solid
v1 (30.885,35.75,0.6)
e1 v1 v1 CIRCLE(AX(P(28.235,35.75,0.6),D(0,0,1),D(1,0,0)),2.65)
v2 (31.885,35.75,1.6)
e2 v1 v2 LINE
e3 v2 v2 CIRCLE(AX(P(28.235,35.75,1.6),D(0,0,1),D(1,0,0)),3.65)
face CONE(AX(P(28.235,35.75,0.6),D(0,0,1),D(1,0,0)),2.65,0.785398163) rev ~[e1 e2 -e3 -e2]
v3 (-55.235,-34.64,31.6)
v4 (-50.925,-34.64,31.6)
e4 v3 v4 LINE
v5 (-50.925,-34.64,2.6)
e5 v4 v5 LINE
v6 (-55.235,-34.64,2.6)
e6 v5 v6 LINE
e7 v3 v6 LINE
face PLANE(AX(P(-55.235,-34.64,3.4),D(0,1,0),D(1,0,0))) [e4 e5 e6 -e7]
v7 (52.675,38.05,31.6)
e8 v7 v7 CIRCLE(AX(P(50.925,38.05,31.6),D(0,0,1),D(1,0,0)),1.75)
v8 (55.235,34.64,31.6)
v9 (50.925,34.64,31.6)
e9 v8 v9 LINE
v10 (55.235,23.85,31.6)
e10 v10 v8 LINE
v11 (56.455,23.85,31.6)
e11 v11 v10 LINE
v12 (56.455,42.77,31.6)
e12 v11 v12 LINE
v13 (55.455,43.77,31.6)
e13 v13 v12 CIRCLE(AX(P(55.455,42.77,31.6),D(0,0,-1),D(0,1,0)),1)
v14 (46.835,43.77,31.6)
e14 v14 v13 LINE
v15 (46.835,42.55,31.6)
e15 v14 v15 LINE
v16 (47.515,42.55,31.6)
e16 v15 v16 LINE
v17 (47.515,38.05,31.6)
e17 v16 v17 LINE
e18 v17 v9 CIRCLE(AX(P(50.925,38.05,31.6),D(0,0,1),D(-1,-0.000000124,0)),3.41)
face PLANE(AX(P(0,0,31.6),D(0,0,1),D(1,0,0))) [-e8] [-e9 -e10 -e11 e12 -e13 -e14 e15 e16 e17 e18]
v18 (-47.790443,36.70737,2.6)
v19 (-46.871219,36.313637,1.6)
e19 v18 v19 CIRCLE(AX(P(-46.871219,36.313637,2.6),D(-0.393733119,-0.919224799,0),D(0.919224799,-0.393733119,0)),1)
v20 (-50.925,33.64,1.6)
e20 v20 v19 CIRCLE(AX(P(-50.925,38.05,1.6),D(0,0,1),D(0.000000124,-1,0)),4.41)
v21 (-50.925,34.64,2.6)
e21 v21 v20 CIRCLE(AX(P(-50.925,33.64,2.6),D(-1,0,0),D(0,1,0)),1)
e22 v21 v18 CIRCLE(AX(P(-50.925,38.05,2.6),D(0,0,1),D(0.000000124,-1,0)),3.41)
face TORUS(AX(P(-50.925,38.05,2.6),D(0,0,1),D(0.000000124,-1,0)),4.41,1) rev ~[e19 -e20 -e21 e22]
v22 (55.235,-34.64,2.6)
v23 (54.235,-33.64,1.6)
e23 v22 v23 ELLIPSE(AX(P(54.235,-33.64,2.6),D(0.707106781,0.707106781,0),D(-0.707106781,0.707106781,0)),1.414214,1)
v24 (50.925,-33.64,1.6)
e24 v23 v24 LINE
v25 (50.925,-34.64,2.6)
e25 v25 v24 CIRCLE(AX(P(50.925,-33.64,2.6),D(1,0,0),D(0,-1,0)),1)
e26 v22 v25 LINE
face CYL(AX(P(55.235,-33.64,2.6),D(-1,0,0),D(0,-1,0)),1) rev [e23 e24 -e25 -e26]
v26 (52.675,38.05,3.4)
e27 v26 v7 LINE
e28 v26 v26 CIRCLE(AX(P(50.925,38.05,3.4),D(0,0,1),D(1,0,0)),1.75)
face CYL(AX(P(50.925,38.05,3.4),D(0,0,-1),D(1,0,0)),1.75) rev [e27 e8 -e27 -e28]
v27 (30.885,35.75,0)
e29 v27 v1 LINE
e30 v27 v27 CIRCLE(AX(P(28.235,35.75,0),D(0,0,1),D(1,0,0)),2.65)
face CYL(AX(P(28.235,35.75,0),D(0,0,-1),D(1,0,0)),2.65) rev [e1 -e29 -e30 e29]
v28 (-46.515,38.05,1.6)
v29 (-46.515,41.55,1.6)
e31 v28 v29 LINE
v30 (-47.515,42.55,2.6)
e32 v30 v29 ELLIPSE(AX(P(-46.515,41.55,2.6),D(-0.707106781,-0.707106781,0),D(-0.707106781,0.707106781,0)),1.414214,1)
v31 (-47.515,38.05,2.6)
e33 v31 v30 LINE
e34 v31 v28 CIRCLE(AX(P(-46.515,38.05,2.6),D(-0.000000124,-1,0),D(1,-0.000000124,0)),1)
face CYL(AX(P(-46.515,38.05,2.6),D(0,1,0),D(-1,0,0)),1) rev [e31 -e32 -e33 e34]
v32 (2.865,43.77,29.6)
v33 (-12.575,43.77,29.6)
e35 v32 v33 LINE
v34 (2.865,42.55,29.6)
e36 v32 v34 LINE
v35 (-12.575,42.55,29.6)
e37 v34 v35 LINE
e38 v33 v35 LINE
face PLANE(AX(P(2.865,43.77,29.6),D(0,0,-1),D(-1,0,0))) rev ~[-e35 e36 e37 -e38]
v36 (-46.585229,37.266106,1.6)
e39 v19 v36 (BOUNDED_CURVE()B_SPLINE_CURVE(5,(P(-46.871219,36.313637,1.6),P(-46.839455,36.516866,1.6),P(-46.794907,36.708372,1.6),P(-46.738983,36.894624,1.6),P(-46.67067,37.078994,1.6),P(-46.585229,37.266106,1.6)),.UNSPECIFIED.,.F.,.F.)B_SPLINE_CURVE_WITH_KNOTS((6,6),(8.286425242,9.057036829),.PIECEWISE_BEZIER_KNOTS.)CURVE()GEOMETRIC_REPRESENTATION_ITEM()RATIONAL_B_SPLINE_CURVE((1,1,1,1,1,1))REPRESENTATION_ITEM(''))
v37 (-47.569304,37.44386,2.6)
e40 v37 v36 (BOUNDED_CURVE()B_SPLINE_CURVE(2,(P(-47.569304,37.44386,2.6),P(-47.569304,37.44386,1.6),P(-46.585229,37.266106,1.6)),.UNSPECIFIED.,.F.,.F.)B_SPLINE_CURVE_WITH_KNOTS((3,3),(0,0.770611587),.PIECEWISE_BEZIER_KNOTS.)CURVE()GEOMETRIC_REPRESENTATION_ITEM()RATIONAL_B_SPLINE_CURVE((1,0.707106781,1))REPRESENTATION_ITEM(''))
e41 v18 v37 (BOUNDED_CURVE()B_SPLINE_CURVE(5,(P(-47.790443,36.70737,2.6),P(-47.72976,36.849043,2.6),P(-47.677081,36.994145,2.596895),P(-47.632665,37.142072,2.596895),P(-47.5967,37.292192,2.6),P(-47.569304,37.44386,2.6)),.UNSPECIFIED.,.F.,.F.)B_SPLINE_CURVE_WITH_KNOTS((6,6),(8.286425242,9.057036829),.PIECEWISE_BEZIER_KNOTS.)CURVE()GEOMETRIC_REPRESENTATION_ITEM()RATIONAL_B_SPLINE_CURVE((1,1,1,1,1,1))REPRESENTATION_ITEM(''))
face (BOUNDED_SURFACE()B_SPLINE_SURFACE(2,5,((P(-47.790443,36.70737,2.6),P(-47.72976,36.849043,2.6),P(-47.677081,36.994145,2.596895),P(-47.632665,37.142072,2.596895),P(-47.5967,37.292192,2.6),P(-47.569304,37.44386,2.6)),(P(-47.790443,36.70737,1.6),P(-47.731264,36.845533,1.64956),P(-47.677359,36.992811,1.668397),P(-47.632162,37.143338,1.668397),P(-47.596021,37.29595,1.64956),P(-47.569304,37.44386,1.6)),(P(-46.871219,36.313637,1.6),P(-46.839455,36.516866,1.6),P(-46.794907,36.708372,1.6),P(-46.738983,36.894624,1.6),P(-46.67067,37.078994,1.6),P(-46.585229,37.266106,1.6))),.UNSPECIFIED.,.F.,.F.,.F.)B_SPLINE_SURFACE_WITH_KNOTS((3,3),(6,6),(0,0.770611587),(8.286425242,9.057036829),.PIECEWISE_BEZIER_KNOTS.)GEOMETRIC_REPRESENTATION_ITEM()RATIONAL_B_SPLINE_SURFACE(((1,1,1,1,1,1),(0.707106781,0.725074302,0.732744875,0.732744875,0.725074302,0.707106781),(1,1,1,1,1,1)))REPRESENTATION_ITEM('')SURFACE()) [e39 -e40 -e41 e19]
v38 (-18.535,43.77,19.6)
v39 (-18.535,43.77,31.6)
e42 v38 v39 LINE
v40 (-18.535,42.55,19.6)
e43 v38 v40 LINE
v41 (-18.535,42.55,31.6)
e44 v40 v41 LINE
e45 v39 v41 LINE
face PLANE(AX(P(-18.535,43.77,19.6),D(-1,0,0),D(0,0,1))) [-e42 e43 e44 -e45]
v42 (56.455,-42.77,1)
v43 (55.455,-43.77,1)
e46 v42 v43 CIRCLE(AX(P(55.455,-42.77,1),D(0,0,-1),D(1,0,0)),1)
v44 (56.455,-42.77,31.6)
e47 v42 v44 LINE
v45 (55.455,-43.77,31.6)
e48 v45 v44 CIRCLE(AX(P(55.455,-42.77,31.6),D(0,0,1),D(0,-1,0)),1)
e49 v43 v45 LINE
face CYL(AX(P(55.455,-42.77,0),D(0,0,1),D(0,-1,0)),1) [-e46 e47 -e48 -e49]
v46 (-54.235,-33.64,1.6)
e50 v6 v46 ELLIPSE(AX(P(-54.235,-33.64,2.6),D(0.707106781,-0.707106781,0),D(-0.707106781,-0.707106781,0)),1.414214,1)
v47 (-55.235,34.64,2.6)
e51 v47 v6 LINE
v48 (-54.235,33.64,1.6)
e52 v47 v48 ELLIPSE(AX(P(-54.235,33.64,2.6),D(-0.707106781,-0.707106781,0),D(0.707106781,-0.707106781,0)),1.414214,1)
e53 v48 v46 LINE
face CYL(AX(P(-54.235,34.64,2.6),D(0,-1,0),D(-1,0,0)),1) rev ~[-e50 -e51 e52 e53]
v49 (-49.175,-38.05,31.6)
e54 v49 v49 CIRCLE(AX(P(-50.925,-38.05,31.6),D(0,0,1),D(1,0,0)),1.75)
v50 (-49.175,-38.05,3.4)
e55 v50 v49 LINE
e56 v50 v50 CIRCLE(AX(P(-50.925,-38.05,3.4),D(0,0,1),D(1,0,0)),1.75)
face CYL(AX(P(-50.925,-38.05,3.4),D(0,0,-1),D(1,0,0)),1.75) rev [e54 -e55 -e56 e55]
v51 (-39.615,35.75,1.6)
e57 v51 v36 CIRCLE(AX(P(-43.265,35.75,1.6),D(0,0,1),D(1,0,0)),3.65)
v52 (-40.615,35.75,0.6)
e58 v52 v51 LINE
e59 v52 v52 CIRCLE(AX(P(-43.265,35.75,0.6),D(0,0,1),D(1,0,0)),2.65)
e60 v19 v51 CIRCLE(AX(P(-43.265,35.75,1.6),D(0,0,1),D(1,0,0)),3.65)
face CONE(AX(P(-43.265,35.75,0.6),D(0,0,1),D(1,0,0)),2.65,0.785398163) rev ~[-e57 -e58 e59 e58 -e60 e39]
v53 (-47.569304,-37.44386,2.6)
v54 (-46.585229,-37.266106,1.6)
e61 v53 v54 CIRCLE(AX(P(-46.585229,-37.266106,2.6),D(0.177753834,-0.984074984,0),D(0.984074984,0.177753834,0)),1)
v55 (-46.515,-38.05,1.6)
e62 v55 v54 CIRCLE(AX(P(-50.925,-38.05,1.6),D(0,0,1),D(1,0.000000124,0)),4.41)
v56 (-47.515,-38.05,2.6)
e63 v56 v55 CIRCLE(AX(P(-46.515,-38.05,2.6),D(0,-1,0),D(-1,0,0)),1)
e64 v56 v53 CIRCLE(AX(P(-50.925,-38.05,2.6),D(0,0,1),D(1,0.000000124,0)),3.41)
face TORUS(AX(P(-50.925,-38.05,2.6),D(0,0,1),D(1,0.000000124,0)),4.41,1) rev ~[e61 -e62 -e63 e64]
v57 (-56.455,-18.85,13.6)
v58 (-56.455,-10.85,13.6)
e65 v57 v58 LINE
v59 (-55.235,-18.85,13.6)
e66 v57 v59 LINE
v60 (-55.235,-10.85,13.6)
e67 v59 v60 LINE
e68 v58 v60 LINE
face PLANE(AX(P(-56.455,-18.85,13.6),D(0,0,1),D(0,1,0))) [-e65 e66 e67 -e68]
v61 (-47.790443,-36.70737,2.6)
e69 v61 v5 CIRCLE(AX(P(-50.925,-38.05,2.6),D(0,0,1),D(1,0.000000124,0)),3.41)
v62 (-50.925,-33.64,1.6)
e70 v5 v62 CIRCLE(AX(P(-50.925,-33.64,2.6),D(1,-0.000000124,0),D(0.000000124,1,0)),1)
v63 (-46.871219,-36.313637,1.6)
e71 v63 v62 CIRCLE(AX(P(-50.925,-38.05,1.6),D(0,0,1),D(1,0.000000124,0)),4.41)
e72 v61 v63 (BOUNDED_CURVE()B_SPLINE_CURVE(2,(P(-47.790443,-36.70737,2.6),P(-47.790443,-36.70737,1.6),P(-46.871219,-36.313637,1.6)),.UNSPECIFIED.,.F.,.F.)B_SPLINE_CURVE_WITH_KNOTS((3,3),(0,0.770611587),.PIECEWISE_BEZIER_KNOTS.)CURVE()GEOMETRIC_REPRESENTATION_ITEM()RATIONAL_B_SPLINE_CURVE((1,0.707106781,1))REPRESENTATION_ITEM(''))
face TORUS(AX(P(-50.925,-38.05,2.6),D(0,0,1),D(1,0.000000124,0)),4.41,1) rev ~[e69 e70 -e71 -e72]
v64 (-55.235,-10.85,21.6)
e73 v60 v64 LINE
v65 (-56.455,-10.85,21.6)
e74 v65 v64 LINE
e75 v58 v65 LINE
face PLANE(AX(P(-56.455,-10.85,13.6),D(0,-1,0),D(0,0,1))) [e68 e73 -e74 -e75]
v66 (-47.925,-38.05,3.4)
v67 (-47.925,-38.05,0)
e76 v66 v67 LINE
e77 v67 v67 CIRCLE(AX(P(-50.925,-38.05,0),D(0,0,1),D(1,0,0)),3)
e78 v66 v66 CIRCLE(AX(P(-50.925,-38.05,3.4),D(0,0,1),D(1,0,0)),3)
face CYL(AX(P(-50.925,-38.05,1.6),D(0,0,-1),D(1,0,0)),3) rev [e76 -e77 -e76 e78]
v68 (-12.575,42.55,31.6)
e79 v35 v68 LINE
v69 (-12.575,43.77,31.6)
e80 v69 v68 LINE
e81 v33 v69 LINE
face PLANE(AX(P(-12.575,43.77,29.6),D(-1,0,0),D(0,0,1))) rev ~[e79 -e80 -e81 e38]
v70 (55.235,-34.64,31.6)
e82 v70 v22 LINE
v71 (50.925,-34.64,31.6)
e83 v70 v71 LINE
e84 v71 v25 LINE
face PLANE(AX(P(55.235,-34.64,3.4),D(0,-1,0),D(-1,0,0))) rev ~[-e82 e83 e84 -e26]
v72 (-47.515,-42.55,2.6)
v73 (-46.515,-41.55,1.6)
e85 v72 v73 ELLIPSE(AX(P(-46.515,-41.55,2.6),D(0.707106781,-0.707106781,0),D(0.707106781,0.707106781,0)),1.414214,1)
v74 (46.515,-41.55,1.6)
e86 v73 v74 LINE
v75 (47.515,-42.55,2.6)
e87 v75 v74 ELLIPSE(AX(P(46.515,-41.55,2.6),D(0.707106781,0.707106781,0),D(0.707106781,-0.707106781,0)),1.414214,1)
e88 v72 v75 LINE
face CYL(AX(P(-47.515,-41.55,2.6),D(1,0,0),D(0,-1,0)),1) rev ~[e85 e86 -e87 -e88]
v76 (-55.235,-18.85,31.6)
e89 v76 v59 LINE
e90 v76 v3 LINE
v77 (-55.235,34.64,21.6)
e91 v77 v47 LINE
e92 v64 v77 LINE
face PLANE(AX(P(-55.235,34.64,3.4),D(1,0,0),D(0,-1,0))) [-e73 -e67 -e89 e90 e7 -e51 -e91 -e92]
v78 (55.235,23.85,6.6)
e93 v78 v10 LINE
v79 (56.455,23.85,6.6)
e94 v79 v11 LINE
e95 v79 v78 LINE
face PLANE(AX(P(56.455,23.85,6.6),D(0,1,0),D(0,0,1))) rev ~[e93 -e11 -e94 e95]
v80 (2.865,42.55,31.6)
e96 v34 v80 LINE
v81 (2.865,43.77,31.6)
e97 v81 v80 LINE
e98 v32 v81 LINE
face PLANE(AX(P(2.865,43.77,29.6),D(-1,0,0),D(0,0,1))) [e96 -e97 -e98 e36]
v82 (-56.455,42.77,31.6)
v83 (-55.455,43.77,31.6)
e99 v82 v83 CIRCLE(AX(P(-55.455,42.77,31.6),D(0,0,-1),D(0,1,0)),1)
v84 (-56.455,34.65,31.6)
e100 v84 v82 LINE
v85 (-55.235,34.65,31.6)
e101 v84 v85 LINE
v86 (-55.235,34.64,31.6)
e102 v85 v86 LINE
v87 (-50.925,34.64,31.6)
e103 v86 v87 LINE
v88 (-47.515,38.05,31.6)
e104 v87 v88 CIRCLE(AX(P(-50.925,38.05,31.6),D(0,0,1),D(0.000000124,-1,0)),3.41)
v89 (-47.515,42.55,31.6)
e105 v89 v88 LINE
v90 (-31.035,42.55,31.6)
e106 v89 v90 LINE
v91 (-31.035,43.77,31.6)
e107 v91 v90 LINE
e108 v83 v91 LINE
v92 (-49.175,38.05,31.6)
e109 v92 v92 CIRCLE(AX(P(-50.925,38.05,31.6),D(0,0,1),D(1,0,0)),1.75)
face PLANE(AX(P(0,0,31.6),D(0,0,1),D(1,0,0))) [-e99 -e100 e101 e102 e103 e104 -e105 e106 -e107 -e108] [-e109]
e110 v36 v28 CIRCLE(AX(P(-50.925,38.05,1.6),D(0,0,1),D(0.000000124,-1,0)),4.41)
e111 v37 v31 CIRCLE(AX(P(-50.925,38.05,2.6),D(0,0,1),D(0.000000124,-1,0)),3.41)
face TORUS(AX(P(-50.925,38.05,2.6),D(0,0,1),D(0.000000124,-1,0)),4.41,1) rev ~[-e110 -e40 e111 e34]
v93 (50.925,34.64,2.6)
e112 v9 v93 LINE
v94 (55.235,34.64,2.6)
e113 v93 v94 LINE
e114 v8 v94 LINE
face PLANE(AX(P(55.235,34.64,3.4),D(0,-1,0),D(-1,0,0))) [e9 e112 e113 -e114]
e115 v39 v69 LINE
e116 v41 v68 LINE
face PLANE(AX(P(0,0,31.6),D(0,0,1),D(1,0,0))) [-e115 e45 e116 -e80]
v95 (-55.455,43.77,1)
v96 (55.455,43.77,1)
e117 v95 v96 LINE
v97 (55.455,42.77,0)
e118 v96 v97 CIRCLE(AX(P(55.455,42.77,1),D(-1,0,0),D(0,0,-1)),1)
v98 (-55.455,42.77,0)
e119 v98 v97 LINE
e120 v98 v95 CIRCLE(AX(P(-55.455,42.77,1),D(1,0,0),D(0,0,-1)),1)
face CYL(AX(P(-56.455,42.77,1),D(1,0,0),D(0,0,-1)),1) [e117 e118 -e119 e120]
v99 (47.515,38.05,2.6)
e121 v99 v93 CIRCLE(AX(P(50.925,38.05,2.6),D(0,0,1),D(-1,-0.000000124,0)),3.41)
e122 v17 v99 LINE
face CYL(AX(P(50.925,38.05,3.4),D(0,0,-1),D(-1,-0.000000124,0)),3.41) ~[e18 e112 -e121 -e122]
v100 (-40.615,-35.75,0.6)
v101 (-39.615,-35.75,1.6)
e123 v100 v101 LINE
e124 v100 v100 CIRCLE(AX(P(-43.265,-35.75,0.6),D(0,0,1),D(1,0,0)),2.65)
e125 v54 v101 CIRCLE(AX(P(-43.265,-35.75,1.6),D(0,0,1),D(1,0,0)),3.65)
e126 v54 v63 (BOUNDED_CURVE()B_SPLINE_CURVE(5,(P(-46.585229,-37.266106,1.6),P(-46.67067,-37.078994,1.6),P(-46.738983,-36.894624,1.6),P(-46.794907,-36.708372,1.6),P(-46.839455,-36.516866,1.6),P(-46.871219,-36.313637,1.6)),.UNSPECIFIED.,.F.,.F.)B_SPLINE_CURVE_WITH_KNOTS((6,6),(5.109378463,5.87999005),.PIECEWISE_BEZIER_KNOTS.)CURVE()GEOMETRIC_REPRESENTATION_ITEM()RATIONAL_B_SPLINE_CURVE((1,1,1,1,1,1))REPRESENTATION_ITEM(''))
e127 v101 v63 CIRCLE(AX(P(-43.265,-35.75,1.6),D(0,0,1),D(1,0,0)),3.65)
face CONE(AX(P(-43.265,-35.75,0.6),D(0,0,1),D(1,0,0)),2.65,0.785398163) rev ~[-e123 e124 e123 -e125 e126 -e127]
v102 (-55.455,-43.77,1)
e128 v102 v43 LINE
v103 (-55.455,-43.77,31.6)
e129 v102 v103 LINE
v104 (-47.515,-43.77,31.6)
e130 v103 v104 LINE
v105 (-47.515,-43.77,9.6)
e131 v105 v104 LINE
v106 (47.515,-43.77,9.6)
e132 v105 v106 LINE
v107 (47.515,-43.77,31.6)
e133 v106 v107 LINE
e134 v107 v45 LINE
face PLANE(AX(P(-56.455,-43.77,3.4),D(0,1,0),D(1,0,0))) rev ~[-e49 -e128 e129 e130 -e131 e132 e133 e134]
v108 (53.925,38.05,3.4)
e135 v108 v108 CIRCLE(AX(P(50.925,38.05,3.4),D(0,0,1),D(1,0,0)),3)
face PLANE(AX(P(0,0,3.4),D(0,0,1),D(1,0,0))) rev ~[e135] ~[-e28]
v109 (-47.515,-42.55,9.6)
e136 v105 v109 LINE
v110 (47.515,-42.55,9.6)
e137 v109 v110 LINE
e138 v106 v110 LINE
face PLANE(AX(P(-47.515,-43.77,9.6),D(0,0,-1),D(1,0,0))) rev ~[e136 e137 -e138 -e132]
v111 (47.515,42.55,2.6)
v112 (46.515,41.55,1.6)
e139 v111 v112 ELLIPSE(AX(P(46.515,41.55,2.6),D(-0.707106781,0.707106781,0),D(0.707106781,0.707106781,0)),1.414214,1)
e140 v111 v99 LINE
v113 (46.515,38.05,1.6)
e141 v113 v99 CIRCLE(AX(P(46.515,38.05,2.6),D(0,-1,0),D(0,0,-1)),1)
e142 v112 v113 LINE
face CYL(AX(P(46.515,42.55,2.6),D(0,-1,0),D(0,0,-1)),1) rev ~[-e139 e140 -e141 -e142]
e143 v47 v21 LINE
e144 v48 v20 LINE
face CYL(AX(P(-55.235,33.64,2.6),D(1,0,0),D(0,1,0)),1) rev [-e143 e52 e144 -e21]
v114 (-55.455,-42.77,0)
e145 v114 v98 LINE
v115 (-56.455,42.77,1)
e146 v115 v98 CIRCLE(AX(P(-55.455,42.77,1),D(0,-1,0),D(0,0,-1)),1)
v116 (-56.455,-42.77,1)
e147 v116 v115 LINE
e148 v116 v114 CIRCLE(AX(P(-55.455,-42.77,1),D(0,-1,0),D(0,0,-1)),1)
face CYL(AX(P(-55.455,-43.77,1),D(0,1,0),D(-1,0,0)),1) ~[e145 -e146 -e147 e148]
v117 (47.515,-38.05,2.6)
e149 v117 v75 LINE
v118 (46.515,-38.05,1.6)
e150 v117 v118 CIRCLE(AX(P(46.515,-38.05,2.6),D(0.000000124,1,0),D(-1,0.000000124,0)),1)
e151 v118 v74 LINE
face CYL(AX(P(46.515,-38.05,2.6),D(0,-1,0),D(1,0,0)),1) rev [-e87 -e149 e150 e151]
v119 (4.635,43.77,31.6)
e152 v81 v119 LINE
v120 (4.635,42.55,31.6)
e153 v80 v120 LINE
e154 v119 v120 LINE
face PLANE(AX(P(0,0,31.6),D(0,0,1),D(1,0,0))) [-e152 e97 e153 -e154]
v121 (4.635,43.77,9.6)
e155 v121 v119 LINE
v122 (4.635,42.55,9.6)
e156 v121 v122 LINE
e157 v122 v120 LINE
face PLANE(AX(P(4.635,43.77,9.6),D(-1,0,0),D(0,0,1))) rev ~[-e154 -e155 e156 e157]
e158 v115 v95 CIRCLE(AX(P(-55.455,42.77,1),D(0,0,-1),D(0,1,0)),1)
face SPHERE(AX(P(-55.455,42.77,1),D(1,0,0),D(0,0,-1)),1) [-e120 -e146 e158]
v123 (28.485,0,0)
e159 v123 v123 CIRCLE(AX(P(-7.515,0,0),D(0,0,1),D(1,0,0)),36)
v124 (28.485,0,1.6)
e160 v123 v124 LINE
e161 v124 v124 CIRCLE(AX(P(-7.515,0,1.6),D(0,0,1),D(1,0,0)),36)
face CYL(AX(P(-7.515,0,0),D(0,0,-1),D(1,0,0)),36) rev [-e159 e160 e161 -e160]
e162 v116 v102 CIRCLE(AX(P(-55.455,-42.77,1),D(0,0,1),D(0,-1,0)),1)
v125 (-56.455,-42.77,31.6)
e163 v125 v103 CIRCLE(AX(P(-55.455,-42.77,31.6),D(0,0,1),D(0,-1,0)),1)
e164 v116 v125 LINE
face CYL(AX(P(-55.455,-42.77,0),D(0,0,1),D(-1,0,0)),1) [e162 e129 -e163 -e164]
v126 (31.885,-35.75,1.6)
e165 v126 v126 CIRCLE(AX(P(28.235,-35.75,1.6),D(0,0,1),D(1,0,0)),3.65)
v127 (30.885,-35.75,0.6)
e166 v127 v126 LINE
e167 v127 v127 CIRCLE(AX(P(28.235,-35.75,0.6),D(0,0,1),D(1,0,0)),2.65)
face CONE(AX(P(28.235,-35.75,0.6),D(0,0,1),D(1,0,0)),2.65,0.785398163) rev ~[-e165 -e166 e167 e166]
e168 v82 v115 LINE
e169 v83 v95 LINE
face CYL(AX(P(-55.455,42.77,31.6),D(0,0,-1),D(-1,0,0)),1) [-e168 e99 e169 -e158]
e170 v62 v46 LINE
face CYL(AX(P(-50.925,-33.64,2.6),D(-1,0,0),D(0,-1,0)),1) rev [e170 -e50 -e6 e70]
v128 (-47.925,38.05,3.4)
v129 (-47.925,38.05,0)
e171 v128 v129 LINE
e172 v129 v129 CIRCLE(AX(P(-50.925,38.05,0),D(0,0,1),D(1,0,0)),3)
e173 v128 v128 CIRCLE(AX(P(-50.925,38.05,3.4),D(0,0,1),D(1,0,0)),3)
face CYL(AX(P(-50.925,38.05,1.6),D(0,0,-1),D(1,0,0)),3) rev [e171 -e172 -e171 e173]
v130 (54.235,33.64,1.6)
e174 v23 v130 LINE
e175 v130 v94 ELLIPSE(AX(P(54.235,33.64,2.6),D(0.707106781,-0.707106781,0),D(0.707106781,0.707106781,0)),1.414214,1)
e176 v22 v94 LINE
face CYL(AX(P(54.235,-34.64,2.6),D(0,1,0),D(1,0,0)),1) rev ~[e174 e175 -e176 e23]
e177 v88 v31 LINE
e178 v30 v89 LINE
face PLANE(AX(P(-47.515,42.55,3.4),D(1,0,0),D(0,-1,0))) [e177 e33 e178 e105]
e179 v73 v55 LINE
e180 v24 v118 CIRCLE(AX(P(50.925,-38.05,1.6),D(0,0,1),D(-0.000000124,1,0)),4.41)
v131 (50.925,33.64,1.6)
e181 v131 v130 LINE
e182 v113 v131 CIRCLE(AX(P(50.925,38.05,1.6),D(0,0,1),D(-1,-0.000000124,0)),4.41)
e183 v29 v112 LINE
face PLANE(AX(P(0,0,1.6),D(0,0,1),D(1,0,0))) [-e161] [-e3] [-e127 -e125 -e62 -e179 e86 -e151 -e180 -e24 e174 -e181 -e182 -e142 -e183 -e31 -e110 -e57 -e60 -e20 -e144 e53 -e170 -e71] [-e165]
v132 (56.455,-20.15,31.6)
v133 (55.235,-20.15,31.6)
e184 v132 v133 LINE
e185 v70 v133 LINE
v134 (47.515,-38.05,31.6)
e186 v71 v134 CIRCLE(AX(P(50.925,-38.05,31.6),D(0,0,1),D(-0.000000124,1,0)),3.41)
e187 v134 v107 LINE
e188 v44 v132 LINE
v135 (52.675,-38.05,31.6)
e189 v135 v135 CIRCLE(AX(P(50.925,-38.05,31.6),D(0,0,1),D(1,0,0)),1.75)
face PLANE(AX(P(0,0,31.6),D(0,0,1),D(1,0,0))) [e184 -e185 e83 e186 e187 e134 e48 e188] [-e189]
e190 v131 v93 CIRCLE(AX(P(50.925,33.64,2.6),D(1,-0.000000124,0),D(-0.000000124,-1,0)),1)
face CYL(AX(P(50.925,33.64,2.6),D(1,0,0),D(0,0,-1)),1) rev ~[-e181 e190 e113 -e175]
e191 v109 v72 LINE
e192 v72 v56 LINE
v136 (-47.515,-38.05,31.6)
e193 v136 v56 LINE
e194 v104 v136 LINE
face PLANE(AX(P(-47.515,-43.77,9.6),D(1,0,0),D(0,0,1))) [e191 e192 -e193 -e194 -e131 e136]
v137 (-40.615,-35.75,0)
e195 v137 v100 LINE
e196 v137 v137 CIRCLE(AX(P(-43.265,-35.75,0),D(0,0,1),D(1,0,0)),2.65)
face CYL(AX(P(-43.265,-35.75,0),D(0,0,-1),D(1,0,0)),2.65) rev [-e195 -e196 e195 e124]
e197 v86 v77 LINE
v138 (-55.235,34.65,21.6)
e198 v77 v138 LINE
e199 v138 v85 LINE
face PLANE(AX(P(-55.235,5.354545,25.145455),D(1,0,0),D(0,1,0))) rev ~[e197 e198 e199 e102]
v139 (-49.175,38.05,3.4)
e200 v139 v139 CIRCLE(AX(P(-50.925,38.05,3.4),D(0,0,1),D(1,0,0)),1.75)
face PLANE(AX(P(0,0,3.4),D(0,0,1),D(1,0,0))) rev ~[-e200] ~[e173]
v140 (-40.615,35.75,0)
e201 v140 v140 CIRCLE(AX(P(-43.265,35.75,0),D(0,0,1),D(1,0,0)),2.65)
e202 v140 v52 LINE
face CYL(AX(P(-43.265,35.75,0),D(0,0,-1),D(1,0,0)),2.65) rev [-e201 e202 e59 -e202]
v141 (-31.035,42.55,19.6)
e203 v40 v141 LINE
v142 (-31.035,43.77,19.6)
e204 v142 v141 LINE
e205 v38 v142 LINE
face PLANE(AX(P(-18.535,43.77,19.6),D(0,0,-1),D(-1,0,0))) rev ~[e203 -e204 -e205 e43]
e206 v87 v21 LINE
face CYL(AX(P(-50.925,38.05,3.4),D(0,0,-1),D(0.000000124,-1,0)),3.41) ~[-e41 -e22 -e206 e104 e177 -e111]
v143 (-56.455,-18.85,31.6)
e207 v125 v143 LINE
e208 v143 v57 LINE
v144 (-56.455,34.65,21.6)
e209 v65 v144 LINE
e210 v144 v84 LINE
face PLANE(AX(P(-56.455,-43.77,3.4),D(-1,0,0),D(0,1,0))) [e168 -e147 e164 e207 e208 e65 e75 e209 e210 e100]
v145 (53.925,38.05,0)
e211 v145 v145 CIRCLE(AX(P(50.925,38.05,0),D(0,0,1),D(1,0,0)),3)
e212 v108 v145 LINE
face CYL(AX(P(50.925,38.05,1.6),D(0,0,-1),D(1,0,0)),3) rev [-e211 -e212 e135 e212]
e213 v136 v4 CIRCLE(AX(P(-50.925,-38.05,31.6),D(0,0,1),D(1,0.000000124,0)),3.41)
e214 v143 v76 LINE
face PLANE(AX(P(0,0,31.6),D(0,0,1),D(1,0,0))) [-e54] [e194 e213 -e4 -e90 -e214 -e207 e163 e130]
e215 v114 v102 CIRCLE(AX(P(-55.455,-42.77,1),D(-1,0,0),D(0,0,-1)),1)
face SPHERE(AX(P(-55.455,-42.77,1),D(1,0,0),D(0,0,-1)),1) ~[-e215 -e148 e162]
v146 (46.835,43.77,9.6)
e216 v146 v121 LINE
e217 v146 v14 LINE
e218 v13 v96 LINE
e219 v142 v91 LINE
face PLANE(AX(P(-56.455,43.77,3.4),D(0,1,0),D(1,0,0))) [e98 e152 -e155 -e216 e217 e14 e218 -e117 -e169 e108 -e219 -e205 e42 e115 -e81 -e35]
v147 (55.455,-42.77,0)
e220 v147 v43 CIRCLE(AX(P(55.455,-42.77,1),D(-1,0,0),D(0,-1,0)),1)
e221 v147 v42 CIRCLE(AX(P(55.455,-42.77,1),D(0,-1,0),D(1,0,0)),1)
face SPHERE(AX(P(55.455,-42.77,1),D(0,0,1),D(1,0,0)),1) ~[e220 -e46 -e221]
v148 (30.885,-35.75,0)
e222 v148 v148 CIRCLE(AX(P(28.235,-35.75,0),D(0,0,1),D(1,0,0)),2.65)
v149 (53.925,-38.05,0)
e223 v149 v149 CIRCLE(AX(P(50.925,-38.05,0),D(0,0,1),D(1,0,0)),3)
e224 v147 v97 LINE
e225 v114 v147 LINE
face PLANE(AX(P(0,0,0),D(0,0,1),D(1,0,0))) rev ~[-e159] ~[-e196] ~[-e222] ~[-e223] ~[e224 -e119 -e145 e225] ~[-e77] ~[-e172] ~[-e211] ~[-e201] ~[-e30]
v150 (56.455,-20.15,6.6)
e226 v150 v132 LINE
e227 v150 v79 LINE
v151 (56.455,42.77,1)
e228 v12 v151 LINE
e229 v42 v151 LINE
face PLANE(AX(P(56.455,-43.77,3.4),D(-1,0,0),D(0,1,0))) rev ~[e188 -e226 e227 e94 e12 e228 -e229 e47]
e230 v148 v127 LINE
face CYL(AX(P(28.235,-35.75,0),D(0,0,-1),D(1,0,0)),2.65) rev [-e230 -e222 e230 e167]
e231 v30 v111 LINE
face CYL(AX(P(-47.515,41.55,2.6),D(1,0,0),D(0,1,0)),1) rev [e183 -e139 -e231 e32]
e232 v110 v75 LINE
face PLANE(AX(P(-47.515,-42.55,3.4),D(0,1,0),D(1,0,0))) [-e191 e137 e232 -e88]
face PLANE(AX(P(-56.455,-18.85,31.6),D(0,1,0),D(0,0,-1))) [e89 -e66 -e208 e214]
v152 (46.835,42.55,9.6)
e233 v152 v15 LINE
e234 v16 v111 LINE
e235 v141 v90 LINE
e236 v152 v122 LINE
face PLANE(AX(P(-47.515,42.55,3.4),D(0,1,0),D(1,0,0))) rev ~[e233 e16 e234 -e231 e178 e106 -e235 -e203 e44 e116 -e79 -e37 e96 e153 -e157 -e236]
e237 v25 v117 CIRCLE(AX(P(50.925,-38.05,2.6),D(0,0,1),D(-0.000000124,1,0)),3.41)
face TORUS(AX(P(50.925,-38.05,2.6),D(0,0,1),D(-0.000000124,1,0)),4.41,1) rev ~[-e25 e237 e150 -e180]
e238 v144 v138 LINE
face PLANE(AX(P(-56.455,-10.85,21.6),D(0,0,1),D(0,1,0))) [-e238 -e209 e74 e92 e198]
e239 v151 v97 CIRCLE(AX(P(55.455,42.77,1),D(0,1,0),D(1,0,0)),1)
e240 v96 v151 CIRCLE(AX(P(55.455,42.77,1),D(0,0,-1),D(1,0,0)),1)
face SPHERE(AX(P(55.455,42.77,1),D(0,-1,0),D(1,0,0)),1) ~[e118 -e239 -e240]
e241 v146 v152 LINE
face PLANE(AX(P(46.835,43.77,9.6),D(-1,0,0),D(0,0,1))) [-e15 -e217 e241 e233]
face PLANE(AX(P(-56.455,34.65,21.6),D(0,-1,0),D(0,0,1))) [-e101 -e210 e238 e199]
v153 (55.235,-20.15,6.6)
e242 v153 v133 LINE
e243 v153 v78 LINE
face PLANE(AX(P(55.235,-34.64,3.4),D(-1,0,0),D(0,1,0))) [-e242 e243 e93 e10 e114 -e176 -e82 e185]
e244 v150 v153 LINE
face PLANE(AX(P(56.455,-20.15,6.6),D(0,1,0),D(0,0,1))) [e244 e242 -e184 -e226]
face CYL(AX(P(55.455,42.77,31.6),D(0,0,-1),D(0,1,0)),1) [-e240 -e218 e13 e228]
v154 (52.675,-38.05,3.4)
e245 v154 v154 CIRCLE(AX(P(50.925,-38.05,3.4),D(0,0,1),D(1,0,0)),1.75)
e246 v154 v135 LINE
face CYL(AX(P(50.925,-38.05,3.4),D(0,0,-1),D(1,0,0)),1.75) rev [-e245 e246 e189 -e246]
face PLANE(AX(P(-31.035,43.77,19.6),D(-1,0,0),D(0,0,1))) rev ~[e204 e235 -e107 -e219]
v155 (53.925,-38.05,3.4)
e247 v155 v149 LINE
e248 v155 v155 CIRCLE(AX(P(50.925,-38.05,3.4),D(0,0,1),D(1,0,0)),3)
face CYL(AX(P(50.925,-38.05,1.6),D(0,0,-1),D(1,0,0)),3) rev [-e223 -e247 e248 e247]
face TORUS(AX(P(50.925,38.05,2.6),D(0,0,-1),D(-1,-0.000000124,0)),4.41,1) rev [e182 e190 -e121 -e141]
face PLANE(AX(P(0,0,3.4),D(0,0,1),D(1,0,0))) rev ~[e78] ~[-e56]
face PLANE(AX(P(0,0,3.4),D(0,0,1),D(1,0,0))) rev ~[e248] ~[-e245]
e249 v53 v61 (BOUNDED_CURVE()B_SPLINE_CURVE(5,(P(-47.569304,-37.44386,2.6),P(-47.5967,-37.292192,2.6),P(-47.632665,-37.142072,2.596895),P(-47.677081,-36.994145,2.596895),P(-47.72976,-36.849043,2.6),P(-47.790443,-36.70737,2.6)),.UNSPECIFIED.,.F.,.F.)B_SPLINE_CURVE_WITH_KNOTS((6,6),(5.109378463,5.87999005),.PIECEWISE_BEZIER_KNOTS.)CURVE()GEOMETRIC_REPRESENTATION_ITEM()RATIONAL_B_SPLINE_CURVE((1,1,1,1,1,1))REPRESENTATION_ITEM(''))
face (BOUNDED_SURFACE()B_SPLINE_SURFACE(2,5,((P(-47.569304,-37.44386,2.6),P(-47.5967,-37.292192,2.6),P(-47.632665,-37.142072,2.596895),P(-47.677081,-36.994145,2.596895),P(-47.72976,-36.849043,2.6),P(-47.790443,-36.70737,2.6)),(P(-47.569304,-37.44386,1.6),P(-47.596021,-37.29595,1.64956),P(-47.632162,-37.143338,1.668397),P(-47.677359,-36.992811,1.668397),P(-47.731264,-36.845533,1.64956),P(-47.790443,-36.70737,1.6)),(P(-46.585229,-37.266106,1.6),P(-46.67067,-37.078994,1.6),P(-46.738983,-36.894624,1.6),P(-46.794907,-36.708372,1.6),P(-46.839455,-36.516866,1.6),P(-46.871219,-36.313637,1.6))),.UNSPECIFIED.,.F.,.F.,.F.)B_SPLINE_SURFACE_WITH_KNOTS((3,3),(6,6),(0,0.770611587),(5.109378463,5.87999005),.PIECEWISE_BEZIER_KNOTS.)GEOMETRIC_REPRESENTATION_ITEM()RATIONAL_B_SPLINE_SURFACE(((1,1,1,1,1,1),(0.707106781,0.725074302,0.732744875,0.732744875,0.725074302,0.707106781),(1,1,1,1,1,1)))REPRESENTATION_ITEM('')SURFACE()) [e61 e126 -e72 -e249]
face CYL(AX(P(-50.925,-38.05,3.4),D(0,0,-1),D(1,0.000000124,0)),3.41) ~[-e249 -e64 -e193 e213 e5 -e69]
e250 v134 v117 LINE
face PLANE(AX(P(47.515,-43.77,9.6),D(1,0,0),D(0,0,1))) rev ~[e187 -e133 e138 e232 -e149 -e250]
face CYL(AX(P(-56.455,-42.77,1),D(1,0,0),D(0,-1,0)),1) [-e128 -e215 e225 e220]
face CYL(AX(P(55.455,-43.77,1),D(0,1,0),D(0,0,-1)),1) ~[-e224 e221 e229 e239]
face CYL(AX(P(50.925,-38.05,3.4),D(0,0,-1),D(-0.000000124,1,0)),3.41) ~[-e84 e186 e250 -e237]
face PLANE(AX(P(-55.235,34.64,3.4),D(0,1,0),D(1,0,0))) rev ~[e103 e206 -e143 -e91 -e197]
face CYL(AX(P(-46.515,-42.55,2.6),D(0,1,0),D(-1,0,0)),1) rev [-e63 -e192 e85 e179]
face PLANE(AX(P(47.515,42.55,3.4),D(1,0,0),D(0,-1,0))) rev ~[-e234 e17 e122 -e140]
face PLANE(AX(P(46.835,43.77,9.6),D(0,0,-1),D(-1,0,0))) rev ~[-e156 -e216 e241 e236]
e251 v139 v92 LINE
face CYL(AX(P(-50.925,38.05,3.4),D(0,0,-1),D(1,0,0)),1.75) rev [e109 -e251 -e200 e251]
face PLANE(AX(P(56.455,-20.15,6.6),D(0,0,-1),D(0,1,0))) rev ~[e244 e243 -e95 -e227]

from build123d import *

# Parameters (mm, degrees)
SKETCH006_W     = 112.91
SKETCH006_H     = 87.54
SKETCH006_R     = 3
SKETCH006_R_2   = 2.65
SKETCH006_R_3   = 36
PAD005_DEPTH    = 1.6
CHAMFER_SIZE    = 1
SKETCH007_W     = 112.91
SKETCH007_H     = 87.54
SKETCH007_R     = 3
PAD006_DEPTH    = 1.8
SKETCH009_W     = 112.91
SKETCH009_H     = 87.54
SKETCH009_R     = 1.75
PAD007_DEPTH    = 28.2
SKETCH008_W     = 44
SKETCH008_H     = 25
POCKET_DEPTH    = 1.22
POCKET001_DEPTH = 1.22
SKETCH011_W     = 95.03
SKETCH011_H     = 22
POCKET002_DEPTH = 1.22
SKETCH012_W     = 42.2
SKETCH012_H     = 22
SKETCH012_W_2   = 15.44
SKETCH012_H_2   = 2
SKETCH012_W_3   = 12.5
SKETCH012_H_3   = 12
POCKET003_DEPTH = 1.22
FILLET001_R     = 1


with BuildPart() as part:
    # Sketch006 → Pad005 (new body)
    with BuildSketch(Plane.XY):
        Rectangle(SKETCH006_W, SKETCH006_H)
        with Locations((-50.925, 38.05)):
            Circle(SKETCH006_R, mode=Mode.SUBTRACT)
        with Locations((50.925, 38.05)):
            Circle(SKETCH006_R, mode=Mode.SUBTRACT)
        with Locations((-50.925, -38.05)):
            Circle(SKETCH006_R, mode=Mode.SUBTRACT)
        with Locations((50.925, -38.05)):
            Circle(SKETCH006_R, mode=Mode.SUBTRACT)
        with Locations((-43.265, 35.75)):
            Circle(SKETCH006_R_2, mode=Mode.SUBTRACT)
        with Locations((28.235, 35.75)):
            Circle(SKETCH006_R_2, mode=Mode.SUBTRACT)
        with Locations((28.235, -35.75)):
            Circle(SKETCH006_R_2, mode=Mode.SUBTRACT)
        with Locations((-43.265, -35.75)):
            Circle(SKETCH006_R_2, mode=Mode.SUBTRACT)
        with Locations((-7.515, 0)):
            Circle(SKETCH006_R_3, mode=Mode.SUBTRACT)
    extrude(amount=PAD005_DEPTH)

    # Chamfer
    chamfer_edges = [part.edges().sort_by_distance(p)[0] for p in [
        (-45.915, 35.75, 1.6),
        (25.585, 35.75, 1.6),
        (-45.915, -35.75, 1.6),
        (25.585, -35.75, 1.6),
    ]]
    chamfer(chamfer_edges, length=CHAMFER_SIZE)

    # Sketch007 → Pad006 (join)
    with BuildSketch(Plane.XY.offset(1.6)):
        Rectangle(SKETCH007_W, SKETCH007_H)
        with Locations((-50.925, 38.05)):
            Circle(SKETCH007_R, mode=Mode.SUBTRACT)
        with Locations((50.925, 38.05)):
            Circle(SKETCH007_R, mode=Mode.SUBTRACT)
        with Locations((-50.925, -38.05)):
            Circle(SKETCH007_R, mode=Mode.SUBTRACT)
        with Locations((50.925, -38.05)):
            Circle(SKETCH007_R, mode=Mode.SUBTRACT)
        with BuildLine():
            Line((-47.515, 42.55), (47.515, 42.55))
            Line((47.515, 42.55), (47.515, 38.05))
            ThreePointArc((47.515, 38.05), (48.513766, 35.638766), (50.925, 34.64))
            Line((55.235, 34.64), (50.925, 34.64))
            Line((55.235, -34.64), (55.235, 34.64))
            Line((55.235, -34.64), (50.925, -34.64))
            ThreePointArc((50.925, -34.64), (48.513766, -35.638766), (47.515, -38.05))
            Line((47.515, -42.55), (47.515, -38.05))
            Line((-47.515, -42.55), (47.515, -42.55))
            Line((-47.515, -42.55), (-47.515, -38.05))
            ThreePointArc((-47.515, -38.05), (-48.513766, -35.638766), (-50.925, -34.64))
            Line((-55.235, -34.64), (-50.925, -34.64))
            Line((-55.235, 34.64), (-55.235, -34.64))
            Line((-55.235, 34.64), (-50.925, 34.64))
            ThreePointArc((-50.925, 34.64), (-48.513766, 35.638766), (-47.515, 38.05))
            Line((-47.515, 42.55), (-47.515, 38.05))
        make_face(mode=Mode.SUBTRACT)
    extrude(amount=PAD006_DEPTH)

    # Sketch009 → Pad007 (join)
    with BuildSketch(Plane.XY.offset(3.4)):
        Rectangle(SKETCH009_W, SKETCH009_H)
        with Locations((-50.925, 38.05)):
            Circle(SKETCH009_R, mode=Mode.SUBTRACT)
        with Locations((50.925, 38.05)):
            Circle(SKETCH009_R, mode=Mode.SUBTRACT)
        with Locations((-50.925, -38.05)):
            Circle(SKETCH009_R, mode=Mode.SUBTRACT)
        with Locations((50.925, -38.05)):
            Circle(SKETCH009_R, mode=Mode.SUBTRACT)
        with BuildLine():
            Line((-47.515, 42.55), (47.515, 42.55))
            Line((47.515, 42.55), (47.515, 38.05))
            ThreePointArc((47.515, 38.05), (48.513766, 35.638766), (50.925, 34.64))
            Line((55.235, 34.64), (50.925, 34.64))
            Line((55.235, -34.64), (55.235, 34.64))
            Line((55.235, -34.64), (50.925, -34.64))
            ThreePointArc((50.925, -34.64), (48.513766, -35.638766), (47.515, -38.05))
            Line((47.515, -42.55), (47.515, -38.05))
            Line((-47.515, -42.55), (47.515, -42.55))
            Line((-47.515, -42.55), (-47.515, -38.05))
            ThreePointArc((-47.515, -38.05), (-48.513766, -35.638766), (-50.925, -34.64))
            Line((-55.235, -34.64), (-50.925, -34.64))
            Line((-55.235, 34.64), (-55.235, -34.64))
            Line((-55.235, 34.64), (-50.925, 34.64))
            ThreePointArc((-50.925, 34.64), (-48.513766, 35.638766), (-47.515, 38.05))
            Line((-47.515, 42.55), (-47.515, 38.05))
        make_face(mode=Mode.SUBTRACT)
    extrude(amount=PAD007_DEPTH)

    # Sketch008 → Pocket (cut)
    with BuildSketch(Plane(origin=(56.455, 0, 1.6), x_dir=(0, 1, 0), z_dir=(1, 0, 0))):
        with Locations((1.85, 17.5)):
            Rectangle(SKETCH008_W, SKETCH008_H)
    extrude(amount=-POCKET_DEPTH, mode=Mode.SUBTRACT)

    # Sketch010 → Pocket001 (cut)
    with BuildSketch(Plane(origin=(-56.455, 0, 1.6), x_dir=(0, -1, 0), z_dir=(-1, 0, 0))):
        Polygon((-34.65, 30), (18.85, 30), (18.85, 12), (10.85, 12), (10.85, 20), (-34.65, 20), align=None)
    extrude(amount=-POCKET001_DEPTH, mode=Mode.SUBTRACT)

    # Sketch011 → Pocket002 (cut)
    with BuildSketch(Plane(origin=(0, -43.77, 1.6), x_dir=(1, 0, 0), z_dir=(0, -1, 0))):
        with Locations((0, 19)):
            Rectangle(SKETCH011_W, SKETCH011_H)
    extrude(amount=-POCKET002_DEPTH, mode=Mode.SUBTRACT)

    # Sketch012 → Pocket003 (cut)
    with BuildSketch(Plane(origin=(0, 43.77, 1.6), x_dir=(-1, 0, 0), z_dir=(0, 1, 0))):
        with Locations((-25.735, 19)):
            Rectangle(SKETCH012_W, SKETCH012_H)
        with Locations((4.855, 29)):
            Rectangle(SKETCH012_W_2, SKETCH012_H_2)
        with Locations((24.785, 24)):
            Rectangle(SKETCH012_W_3, SKETCH012_H_3)
    extrude(amount=-POCKET003_DEPTH, mode=Mode.SUBTRACT)

    # Fillet001
    fillet001_edges = [part.edges().sort_by_distance(p)[0] for p in [
        (56.455, -43.77, 15.8),
        (56.455, 0, 0),
        (0, -43.77, 0),
        (56.455, 43.77, 15.8),
        (0, 43.77, 0),
        (-56.455, 0, 0),
        (-56.455, -43.77, 15.8),
        (-56.455, 43.77, 15.8),
        (-48.513766, -35.638766, 1.6),
        (-55.235, 0, 1.6),
        (0, -42.55, 1.6),
        (-48.513766, 35.638766, 1.6),
        (48.513766, -35.638766, 1.6),
        (0, 42.55, 1.6),
        (48.513766, 35.638766, 1.6),
        (55.235, 0, 1.6),
    ]]
    fillet(fillet001_edges, radius=FILLET001_R)


solid = part.part
